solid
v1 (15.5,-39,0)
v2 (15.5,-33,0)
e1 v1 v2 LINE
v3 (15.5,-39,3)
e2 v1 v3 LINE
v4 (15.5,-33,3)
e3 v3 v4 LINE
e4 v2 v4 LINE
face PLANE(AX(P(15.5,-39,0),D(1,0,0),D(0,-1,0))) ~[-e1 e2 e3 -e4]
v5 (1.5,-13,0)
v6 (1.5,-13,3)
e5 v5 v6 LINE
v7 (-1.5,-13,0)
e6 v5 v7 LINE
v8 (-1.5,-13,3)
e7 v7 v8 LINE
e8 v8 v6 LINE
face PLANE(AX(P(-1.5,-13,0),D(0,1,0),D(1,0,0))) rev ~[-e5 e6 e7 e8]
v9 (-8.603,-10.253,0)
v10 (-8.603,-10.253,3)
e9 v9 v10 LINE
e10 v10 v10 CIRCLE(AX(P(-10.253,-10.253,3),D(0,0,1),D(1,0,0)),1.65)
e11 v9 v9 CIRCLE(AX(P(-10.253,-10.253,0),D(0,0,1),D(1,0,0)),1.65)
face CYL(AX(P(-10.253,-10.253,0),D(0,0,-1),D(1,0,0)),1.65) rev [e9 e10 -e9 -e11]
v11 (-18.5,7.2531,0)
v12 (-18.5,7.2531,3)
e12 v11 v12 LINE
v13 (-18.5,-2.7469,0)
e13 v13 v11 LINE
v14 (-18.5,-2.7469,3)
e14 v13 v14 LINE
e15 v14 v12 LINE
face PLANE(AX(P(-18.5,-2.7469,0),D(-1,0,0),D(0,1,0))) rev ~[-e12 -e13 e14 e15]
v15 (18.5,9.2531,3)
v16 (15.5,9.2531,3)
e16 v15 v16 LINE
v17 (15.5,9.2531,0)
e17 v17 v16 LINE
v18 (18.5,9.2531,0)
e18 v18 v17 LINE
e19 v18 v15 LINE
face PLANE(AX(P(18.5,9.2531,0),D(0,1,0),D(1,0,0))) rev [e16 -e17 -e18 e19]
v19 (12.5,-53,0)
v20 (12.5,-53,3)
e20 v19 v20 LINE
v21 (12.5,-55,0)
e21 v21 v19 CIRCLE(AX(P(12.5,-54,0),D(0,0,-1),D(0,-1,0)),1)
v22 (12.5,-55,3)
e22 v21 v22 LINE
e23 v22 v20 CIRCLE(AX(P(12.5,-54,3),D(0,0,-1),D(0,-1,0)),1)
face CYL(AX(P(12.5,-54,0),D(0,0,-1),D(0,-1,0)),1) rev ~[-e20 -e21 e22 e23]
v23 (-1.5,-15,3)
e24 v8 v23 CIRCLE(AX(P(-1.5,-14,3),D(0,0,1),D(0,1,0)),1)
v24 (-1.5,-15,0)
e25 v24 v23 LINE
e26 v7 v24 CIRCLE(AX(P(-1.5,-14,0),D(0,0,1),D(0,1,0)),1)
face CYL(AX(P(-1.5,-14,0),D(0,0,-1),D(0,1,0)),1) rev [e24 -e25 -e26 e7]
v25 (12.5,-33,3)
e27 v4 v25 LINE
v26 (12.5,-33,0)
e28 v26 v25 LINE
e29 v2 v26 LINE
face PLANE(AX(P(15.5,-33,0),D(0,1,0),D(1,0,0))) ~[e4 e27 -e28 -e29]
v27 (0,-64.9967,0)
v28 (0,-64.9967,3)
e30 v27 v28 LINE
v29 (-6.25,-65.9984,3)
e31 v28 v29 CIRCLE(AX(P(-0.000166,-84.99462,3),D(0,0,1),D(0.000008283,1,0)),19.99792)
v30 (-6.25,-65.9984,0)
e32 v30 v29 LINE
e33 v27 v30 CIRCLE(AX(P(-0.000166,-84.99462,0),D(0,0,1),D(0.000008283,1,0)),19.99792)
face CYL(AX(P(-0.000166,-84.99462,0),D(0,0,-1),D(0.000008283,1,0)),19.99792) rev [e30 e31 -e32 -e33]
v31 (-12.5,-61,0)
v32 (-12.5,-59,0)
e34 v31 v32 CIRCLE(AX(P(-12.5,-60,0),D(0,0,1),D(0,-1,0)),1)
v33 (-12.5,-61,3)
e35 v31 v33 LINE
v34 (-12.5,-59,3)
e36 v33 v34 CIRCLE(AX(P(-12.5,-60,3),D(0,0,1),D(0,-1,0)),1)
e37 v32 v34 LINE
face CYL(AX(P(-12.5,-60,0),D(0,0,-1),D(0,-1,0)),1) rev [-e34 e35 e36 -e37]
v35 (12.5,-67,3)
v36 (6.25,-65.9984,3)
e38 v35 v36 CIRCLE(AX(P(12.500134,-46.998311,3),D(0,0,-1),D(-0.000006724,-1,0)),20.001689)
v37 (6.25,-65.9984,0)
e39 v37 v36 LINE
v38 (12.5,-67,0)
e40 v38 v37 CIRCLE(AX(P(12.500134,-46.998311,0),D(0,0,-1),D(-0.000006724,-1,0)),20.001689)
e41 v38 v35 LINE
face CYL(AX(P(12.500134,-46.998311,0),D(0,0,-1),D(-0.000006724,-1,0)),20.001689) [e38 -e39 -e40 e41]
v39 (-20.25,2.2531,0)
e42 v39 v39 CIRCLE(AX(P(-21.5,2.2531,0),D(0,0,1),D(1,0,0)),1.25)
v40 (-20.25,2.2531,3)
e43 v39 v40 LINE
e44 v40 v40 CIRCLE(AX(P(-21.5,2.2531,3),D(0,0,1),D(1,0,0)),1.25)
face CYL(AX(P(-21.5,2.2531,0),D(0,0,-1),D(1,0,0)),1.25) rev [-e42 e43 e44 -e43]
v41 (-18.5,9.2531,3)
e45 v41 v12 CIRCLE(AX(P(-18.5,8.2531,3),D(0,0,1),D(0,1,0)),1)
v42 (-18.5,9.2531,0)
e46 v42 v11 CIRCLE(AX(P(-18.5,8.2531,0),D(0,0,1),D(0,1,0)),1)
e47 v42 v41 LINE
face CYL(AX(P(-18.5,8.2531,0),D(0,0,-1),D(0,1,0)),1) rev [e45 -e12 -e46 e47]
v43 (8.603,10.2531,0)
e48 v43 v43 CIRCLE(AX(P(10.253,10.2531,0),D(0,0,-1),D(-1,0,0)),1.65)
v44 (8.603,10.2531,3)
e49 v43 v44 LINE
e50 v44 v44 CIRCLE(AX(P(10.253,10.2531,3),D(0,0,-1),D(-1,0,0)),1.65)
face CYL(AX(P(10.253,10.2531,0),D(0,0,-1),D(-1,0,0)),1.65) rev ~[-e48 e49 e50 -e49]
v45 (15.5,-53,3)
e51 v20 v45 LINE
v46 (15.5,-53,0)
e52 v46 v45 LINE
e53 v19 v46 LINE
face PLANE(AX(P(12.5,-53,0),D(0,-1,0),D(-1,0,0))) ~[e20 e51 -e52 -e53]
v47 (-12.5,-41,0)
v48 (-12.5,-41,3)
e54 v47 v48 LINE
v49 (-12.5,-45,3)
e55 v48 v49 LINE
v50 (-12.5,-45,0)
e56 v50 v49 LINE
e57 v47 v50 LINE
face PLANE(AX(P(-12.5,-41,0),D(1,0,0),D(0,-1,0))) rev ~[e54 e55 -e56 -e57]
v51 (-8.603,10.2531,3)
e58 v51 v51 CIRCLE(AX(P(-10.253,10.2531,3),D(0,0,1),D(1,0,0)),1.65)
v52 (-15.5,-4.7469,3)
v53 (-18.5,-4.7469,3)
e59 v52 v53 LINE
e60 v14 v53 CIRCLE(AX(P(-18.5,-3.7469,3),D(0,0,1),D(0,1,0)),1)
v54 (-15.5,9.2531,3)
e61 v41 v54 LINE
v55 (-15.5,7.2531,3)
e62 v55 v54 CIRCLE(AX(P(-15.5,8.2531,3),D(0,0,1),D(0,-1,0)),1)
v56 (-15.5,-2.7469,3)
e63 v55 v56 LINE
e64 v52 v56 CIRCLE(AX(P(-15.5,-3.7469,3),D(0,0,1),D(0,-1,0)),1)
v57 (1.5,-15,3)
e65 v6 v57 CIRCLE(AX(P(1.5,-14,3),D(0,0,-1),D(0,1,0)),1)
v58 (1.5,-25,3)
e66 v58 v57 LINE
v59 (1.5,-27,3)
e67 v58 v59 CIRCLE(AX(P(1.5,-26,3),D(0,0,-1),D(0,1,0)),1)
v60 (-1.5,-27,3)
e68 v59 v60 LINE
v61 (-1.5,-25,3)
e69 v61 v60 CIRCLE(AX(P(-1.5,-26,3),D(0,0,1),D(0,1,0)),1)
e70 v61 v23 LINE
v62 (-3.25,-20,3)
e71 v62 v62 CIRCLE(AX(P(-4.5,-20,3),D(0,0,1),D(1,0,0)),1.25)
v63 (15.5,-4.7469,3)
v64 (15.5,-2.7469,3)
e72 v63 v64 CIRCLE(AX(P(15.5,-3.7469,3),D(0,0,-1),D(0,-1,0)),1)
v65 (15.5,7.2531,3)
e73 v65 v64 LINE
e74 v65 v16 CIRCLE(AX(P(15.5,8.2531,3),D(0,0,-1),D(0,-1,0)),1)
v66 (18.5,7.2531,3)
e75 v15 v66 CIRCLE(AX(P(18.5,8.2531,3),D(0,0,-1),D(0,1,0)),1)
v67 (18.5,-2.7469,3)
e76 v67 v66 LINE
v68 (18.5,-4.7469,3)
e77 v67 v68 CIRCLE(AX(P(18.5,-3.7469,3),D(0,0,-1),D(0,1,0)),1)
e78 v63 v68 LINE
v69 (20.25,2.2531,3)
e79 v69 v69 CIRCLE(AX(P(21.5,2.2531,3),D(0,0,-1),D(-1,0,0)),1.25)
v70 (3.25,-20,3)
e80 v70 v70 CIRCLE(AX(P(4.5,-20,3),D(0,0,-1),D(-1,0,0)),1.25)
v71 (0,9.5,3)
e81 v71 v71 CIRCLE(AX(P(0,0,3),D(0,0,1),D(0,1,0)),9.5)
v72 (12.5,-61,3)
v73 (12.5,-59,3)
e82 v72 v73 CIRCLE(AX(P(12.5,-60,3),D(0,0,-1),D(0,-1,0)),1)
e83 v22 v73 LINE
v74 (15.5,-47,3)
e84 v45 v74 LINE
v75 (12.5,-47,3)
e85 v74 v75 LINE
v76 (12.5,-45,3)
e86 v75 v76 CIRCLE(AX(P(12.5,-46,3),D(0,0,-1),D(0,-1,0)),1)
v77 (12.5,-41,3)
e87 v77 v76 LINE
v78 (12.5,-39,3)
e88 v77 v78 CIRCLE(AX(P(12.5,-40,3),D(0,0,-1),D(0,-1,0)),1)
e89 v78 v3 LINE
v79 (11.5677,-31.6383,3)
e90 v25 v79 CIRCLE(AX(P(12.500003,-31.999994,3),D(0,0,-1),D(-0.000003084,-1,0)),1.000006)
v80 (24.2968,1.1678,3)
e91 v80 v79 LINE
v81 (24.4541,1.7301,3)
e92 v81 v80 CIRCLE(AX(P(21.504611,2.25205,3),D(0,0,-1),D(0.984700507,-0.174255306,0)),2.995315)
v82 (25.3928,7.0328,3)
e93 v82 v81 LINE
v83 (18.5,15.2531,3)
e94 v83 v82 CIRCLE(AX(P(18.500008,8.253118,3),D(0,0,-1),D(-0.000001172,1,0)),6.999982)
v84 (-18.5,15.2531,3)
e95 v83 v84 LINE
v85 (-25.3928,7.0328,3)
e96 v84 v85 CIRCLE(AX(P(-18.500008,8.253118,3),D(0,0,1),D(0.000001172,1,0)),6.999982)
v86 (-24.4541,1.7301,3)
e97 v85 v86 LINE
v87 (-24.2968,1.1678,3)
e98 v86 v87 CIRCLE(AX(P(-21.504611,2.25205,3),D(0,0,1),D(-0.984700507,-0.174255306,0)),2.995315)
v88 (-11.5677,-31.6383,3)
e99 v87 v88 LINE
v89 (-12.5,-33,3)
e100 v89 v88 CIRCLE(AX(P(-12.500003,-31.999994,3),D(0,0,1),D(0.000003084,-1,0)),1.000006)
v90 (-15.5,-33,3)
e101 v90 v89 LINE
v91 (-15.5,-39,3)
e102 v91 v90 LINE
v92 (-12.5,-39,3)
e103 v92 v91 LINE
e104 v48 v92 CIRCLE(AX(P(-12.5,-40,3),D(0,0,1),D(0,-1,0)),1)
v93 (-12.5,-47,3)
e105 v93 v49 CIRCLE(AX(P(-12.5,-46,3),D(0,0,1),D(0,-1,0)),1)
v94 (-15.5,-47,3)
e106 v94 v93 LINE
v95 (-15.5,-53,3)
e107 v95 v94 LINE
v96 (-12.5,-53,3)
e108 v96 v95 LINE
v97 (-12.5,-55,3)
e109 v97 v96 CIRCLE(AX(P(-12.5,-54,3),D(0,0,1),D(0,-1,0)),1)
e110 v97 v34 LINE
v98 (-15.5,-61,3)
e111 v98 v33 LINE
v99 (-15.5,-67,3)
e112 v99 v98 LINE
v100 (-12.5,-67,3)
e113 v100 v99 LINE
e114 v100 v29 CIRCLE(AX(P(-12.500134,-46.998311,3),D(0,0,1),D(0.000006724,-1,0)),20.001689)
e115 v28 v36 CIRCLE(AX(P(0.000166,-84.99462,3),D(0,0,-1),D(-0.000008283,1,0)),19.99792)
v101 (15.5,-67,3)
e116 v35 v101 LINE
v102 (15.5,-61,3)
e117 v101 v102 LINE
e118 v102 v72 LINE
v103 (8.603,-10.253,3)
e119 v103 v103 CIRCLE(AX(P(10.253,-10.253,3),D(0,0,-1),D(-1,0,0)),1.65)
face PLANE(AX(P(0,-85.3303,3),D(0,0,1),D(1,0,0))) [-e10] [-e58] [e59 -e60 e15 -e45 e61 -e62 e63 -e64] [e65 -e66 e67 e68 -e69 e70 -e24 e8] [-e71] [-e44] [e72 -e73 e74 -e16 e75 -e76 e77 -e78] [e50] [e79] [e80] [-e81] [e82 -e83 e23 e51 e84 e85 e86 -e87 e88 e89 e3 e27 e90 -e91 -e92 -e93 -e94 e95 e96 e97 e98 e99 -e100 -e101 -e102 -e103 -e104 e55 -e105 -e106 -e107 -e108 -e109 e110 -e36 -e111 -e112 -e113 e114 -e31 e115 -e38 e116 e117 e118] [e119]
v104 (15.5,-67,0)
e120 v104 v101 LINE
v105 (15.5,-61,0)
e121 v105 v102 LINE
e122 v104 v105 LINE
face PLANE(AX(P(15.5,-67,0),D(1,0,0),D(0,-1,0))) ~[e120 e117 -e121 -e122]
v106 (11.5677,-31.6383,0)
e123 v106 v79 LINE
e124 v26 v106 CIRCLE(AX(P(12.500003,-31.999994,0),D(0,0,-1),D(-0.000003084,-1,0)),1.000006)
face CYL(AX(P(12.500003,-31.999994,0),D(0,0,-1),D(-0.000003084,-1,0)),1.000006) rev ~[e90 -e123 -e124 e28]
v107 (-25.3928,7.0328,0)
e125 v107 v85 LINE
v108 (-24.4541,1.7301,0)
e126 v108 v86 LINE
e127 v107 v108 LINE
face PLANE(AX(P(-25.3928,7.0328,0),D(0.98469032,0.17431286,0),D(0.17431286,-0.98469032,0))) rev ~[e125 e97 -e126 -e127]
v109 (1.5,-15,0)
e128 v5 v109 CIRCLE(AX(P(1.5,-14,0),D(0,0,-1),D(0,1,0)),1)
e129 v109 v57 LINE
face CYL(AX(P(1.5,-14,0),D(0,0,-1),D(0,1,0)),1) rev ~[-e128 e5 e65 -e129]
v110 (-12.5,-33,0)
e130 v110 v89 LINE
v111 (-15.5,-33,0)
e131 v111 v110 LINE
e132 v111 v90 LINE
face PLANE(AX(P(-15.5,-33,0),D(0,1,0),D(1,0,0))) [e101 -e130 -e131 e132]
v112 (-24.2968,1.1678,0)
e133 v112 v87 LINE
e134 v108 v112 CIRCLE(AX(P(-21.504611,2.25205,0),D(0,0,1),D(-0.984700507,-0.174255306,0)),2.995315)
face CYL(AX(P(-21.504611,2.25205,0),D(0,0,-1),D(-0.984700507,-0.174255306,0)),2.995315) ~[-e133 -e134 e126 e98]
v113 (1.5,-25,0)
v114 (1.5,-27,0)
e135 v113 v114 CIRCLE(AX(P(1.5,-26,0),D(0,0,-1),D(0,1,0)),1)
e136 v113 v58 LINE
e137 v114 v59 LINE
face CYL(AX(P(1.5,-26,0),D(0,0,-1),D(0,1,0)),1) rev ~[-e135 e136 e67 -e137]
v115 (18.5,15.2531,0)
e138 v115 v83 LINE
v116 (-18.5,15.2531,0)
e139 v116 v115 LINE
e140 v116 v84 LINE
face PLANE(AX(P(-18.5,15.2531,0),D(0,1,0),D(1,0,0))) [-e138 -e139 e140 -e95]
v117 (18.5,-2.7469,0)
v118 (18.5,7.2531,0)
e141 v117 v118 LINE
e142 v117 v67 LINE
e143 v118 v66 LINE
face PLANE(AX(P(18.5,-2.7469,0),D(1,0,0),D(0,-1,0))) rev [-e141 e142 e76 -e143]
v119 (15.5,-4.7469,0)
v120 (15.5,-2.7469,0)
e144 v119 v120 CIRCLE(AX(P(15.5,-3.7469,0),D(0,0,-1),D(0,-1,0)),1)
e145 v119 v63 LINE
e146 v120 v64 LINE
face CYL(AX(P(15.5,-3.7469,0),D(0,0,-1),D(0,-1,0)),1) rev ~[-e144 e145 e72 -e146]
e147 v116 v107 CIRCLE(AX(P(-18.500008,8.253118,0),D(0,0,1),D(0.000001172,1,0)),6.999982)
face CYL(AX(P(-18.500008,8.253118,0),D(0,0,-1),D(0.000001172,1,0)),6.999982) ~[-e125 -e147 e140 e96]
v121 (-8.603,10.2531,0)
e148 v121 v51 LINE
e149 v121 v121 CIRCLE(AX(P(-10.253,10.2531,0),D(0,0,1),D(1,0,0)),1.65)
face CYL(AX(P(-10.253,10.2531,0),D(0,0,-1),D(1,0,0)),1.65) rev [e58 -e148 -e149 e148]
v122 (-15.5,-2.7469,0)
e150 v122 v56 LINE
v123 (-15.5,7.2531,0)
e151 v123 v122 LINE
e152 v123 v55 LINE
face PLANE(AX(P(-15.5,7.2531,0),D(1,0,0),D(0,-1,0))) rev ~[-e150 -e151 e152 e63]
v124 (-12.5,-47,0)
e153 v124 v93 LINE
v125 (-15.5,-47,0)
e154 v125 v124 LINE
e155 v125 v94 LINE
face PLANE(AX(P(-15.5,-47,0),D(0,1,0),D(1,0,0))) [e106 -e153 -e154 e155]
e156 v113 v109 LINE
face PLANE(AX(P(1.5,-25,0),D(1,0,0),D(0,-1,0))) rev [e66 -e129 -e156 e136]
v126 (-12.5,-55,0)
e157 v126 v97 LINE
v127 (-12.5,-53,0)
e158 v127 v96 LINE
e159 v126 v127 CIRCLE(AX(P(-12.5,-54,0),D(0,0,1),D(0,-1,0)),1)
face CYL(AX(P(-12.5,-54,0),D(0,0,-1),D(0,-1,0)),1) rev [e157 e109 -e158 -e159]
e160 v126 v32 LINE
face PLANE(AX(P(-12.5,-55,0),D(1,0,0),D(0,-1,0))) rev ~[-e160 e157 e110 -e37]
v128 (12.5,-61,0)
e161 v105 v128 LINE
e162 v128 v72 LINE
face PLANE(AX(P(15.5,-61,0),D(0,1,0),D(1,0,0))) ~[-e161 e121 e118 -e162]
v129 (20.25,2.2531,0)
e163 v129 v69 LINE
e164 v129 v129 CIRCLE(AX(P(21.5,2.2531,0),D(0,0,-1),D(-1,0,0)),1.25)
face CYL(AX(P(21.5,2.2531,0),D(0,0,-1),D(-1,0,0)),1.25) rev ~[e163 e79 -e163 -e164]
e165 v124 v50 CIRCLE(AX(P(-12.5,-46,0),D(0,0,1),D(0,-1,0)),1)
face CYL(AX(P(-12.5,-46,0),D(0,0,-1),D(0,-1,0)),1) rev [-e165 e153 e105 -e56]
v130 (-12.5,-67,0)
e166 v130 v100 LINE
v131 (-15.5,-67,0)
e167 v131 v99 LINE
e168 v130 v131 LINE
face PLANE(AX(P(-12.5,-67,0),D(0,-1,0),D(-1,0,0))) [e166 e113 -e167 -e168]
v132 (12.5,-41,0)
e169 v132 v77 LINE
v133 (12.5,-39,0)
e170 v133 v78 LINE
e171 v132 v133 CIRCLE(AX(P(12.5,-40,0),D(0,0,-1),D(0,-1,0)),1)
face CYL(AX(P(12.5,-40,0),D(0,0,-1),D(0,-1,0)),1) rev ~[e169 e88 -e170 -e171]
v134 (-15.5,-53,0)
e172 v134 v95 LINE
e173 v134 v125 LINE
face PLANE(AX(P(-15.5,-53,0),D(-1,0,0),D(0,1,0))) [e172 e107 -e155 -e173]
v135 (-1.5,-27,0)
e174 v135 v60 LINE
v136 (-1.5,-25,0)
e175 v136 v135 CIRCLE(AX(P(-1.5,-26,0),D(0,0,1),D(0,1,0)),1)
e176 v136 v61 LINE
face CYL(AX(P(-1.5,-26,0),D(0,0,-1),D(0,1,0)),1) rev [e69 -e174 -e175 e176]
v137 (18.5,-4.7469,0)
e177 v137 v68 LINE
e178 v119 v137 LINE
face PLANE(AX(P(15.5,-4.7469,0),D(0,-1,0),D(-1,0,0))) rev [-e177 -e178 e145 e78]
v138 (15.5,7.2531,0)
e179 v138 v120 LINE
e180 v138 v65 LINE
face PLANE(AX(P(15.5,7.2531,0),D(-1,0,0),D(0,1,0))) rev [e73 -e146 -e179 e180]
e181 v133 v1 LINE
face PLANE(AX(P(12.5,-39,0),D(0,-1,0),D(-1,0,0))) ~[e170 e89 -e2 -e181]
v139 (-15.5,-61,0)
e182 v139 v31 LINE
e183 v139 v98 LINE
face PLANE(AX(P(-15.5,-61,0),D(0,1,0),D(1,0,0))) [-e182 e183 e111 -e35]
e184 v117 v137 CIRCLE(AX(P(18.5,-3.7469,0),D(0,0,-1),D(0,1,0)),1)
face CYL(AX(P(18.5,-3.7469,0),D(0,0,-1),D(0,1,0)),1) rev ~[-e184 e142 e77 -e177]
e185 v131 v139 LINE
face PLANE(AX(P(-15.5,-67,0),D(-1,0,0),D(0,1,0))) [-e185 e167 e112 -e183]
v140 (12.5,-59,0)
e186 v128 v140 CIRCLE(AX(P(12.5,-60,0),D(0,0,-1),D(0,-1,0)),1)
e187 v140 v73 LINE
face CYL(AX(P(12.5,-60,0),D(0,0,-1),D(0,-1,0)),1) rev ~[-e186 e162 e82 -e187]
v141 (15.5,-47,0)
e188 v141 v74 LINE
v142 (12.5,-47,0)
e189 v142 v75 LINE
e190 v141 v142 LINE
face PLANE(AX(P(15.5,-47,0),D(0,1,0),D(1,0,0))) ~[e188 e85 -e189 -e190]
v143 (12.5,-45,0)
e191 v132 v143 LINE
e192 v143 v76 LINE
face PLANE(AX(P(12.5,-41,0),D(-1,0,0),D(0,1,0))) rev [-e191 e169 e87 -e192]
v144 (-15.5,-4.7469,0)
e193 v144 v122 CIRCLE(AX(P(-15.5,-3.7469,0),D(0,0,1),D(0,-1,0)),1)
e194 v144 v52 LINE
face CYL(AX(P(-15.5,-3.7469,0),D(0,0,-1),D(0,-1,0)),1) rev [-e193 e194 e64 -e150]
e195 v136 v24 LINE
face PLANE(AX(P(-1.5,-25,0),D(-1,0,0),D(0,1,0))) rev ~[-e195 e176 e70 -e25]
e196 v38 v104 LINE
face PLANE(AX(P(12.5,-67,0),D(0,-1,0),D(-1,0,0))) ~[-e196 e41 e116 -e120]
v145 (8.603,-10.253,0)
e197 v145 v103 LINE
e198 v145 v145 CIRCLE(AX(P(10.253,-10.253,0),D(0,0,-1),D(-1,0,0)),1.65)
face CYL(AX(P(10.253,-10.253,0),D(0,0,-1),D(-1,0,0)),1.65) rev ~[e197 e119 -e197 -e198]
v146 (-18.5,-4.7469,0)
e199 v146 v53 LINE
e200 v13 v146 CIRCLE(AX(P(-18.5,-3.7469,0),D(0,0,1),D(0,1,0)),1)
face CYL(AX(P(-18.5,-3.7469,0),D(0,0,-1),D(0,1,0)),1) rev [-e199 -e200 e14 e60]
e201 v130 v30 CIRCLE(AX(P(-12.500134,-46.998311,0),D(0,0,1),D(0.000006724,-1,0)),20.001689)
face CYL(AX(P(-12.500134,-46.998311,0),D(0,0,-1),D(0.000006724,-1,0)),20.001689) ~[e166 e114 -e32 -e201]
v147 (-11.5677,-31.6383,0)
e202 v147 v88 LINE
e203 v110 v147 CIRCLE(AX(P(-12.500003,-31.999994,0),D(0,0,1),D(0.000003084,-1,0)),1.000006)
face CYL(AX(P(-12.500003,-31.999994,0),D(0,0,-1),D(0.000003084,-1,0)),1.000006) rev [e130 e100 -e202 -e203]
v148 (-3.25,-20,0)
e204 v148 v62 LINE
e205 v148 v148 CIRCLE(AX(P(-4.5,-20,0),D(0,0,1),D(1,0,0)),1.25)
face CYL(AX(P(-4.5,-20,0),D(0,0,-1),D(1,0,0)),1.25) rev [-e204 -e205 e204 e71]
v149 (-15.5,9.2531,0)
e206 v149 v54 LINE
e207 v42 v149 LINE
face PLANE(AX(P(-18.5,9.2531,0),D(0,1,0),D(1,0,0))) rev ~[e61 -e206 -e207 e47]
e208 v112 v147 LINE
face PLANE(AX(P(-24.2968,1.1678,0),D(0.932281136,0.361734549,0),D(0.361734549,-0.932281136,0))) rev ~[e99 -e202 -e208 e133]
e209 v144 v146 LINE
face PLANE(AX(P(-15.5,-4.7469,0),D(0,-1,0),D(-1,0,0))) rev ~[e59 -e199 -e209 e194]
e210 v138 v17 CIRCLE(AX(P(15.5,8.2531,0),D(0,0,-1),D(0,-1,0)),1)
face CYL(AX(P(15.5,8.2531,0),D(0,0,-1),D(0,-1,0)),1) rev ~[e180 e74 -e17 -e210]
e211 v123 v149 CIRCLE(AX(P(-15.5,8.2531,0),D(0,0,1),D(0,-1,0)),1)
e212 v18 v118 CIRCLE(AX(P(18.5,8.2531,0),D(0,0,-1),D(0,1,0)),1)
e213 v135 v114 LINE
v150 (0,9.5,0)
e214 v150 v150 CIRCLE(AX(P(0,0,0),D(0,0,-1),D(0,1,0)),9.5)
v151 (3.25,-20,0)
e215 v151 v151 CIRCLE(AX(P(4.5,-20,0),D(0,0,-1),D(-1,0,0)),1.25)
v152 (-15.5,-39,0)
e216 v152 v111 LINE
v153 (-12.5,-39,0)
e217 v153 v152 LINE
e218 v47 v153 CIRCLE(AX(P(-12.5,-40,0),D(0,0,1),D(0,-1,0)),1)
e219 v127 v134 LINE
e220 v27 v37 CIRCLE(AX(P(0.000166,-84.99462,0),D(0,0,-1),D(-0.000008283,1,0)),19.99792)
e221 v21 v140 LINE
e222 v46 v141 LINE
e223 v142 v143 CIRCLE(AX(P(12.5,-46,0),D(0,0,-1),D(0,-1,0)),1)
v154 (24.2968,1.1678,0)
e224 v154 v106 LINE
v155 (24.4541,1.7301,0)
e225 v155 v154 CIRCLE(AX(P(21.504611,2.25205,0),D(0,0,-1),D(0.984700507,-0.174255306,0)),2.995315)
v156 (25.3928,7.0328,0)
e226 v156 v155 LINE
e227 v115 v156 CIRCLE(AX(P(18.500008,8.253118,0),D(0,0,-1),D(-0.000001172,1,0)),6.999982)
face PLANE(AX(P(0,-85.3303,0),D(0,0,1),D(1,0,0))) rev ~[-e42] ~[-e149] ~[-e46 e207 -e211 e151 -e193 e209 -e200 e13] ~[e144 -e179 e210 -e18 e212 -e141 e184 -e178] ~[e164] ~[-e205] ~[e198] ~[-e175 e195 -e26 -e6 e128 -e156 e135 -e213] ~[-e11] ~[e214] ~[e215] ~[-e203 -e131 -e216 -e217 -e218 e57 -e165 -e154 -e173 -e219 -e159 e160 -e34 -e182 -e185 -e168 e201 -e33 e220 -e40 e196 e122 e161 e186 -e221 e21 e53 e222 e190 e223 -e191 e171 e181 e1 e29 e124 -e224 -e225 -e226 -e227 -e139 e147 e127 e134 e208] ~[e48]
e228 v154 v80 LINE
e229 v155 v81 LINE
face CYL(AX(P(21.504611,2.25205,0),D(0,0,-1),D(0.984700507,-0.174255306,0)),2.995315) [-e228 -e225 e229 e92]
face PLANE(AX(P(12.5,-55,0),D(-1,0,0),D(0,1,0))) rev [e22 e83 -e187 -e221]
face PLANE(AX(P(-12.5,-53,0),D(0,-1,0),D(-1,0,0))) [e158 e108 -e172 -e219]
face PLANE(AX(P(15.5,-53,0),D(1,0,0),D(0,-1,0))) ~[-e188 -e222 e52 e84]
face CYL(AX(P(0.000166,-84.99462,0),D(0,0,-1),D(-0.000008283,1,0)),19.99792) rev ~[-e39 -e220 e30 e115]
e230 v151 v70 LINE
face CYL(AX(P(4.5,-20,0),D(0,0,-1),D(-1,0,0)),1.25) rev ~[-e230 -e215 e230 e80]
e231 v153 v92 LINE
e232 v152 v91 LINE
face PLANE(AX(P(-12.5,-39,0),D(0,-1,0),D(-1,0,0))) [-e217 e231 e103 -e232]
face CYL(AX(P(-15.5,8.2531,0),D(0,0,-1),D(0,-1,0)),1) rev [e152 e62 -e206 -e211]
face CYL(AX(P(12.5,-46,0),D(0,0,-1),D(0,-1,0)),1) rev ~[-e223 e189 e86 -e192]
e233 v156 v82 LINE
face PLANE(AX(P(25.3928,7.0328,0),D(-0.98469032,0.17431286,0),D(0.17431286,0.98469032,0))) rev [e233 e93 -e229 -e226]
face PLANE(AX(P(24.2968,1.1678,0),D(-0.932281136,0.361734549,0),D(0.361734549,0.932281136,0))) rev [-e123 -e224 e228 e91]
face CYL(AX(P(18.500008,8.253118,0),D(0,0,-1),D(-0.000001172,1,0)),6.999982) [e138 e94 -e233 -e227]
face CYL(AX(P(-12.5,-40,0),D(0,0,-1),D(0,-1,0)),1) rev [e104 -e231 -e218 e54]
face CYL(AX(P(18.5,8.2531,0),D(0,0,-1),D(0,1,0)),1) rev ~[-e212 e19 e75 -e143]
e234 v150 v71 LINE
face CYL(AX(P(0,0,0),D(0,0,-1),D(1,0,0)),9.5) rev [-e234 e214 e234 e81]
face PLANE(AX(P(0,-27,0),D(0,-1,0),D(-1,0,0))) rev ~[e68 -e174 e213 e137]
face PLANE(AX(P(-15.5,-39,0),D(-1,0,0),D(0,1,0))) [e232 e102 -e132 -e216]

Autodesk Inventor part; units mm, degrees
ref_plane "YZ Plane" through (0, 0, 0) normal (1, 0, 0) x (0, 1, 0)
ref_plane "XZ Plane" through (0, 0, 0) normal (0, 1, 0) x (-1, 0, 0)
ref_plane "XY Plane" through (0, 0, 0) normal (0, 0, 1) x (1, 0, 0)
sketch "スケッチ1" plane through (0, -85.3303, 0) normal (0, 0, 1) x (1, 0, 0)
  circle A0 centre (0, 85.3303) radius 5 construction
  line L0 (10.253, 75.0773) -> (-10.253, 75.0773) construction
  line L1 (-10.253, 75.0773) -> (-10.253, 95.5834) construction
  line L2 (-10.253, 95.5834) -> (10.253, 95.5834) construction
  line L3 (10.253, 95.5834) -> (10.253, 75.0773) construction
  line L4 (10.253, 75.0773) -> (-10.253, 95.5834) construction
  line L5 (-10.253, 75.0773) -> (10.253, 95.5834) construction
  circle A1 centre (-10.253, 95.5834) radius 1.65
  circle A2 centre (-10.253, 75.0773) radius 1.65
  circle A3 centre (10.253, 75.0773) radius 1.65
  circle A4 centre (10.253, 95.5834) radius 1.65
  circle A5 centre (0, 85.3303) radius 9.5
  line L6 (-15.5, 52.3303) -> (-12.5, 52.3303)
  line L7 (-12.5, 46.3303) -> (-15.5, 46.3303)
  line L8 (-15.5, 46.3303) -> (-15.5, 52.3303)
  line L9 (-15.5, 38.3303) -> (-12.5, 38.3303)
  line L10 (-12.5, 32.3303) -> (-15.5, 32.3303)
  line L11 (-15.5, 32.3303) -> (-15.5, 38.3303)
  line L12 (-15.5, 24.3303) -> (-12.5, 24.3303)
  line L13 (-12.5, 18.3303) -> (-15.5, 18.3303)
  line L14 (-15.5, 18.3303) -> (-15.5, 24.3303)
  arc A6 (-12.5, 24.3303) -> (-12.5, 26.3303) centre (-12.5, 25.3303) ccw
  arc A7 (-12.5, 30.3303) -> (-12.5, 32.3303) centre (-12.5, 31.3303) ccw
  arc A8 (-12.5, 38.3303) -> (-12.5, 40.3303) centre (-12.5, 39.3303) ccw
  arc A9 (-12.5, 44.3303) -> (-12.5, 46.3303) centre (-12.5, 45.3303) ccw
  line L15 (-12.5, 44.3303) -> (-12.5, 40.3303)
  line L16 (-12.5, 30.3303) -> (-12.5, 26.3303)
  arc A10 (-12.5, 52.3303) -> (-11.5677, 53.692) centre (-12.5, 53.3303) ccw
  line L17 (-18.5, 100.5834) -> (0, 100.5834)
  line L18 (0, 100.5834) -> (0, 94.8303)
  line L19 (5, 15.3303) -> (-5, 15.3303) projected
  line L20 (-5, 15.3303) -> (-5, 18.6303) projected
  line L21 (5, 18.6303) -> (-5, 18.6303) projected
  line L22 (5, 15.3303) -> (5, 18.6303) projected
  arc A11 (0, 20.3336) -> (-6.25, 19.3319) centre (0, 0.3336) ccw
  line L23 (0, 20.3336) -> (0, 75.8303)
  arc A12 (-12.5, 18.3303) -> (-6.25, 19.3319) centre (-12.5, 38.3303) ccw
  line L24 (-18.5, 94.5834) -> (-15.5, 94.5834)
  line L25 (-15.5, 92.5834) -> (-15.5, 82.5834)
  line L26 (-15.5, 80.5834) -> (-18.5, 80.5834)
  line L27 (-18.5, 82.5834) -> (-18.5, 92.5834)
  arc A13 (-18.5, 94.5834) -> (-18.5, 92.5834) centre (-18.5, 93.5834) ccw
  arc A14 (-18.5, 82.5834) -> (-18.5, 80.5834) centre (-18.5, 81.5834) ccw
  arc A15 (-15.5, 80.5834) -> (-15.5, 82.5834) centre (-15.5, 81.5834) ccw
  arc A16 (-15.5, 92.5834) -> (-15.5, 94.5834) centre (-15.5, 93.5834) ccw
  circle A17 centre (-21.5, 87.5834) radius 1.25
  arc A18 (-24.4541, 87.0604) -> (-24.2968, 86.4981) centre (-21.5, 87.5834) ccw
  line L28 (-25.3928, 92.3631) -> (-24.4541, 87.0604)
  line L29 (-24.2968, 86.4981) -> (-11.5677, 53.692)
  arc A19 (-18.5, 100.5834) -> (-25.3928, 92.3631) centre (-18.5, 93.5834) ccw
  line L30 (0, 58.3303) -> (-1.5, 58.3303)
  line L31 (-1.5, 60.3303) -> (-1.5, 70.3303)
  line L32 (-1.5, 72.3303) -> (0, 72.3303)
  arc A20 (-1.5, 72.3303) -> (-1.5, 70.3303) centre (-1.5, 71.3303) ccw
  arc A21 (-1.5, 60.3303) -> (-1.5, 58.3303) centre (-1.5, 59.3303) ccw
  circle A22 centre (-4.5, 65.3303) radius 1.25
  point P0 (0, 85.3303)
  point P1 (-15.5, 87.5834)
  point P2 (-1.5, 65.3303)
  dimension "d0" = 29
  dimension "d1" = 3.3
  dimension "d4" = 360
  dimension "d6" = 19
  dimension "d7" = 15.5
  dimension "d8" = 33
  dimension "d9" = 8
  dimension "d10" = 6
  dimension "d11" = 8
  dimension "d12" = 3
  dimension "d13" = 1
  dimension "d16" = 6
  dimension "d17" = 20
  dimension "d19" = 20
  dimension "d24" = 15.5
  dimension "d26" = 3
  dimension "d27" = 2
  dimension "d28" = 14
  dimension "d31" = 18.5
  dimension "d32" = 5
  dimension "d33" = 2.5
  dimension "d34" = 3
  dimension "d35" = 6
  dimension "d36" = 6
  dimension "d37" = 14
  dimension "d38" = 1.5
  dimension "d39" = 2.5
  dimension "d40" = 3
  dimension "d41" = 20
extrude "押し出し2" add sketch "スケッチ1" along normal blind 3 contours A5 L23 L32 A20 L31 A21 L30 A11 A12 L13 L14 L12 A6 L16 A7 L10 L11 L9 A8 L15 A9 L7 L8 L6 A10 L29 A18 L28 A19 L17 L18
mirror "ミラー2" about plane through (0, -13, 0) normal (1, 0, 0) of "押し出し2"
equation "\"d11\" = d9"
equation "\"d37\" = d28"
properties part number "スライダベアリングハウジング"
